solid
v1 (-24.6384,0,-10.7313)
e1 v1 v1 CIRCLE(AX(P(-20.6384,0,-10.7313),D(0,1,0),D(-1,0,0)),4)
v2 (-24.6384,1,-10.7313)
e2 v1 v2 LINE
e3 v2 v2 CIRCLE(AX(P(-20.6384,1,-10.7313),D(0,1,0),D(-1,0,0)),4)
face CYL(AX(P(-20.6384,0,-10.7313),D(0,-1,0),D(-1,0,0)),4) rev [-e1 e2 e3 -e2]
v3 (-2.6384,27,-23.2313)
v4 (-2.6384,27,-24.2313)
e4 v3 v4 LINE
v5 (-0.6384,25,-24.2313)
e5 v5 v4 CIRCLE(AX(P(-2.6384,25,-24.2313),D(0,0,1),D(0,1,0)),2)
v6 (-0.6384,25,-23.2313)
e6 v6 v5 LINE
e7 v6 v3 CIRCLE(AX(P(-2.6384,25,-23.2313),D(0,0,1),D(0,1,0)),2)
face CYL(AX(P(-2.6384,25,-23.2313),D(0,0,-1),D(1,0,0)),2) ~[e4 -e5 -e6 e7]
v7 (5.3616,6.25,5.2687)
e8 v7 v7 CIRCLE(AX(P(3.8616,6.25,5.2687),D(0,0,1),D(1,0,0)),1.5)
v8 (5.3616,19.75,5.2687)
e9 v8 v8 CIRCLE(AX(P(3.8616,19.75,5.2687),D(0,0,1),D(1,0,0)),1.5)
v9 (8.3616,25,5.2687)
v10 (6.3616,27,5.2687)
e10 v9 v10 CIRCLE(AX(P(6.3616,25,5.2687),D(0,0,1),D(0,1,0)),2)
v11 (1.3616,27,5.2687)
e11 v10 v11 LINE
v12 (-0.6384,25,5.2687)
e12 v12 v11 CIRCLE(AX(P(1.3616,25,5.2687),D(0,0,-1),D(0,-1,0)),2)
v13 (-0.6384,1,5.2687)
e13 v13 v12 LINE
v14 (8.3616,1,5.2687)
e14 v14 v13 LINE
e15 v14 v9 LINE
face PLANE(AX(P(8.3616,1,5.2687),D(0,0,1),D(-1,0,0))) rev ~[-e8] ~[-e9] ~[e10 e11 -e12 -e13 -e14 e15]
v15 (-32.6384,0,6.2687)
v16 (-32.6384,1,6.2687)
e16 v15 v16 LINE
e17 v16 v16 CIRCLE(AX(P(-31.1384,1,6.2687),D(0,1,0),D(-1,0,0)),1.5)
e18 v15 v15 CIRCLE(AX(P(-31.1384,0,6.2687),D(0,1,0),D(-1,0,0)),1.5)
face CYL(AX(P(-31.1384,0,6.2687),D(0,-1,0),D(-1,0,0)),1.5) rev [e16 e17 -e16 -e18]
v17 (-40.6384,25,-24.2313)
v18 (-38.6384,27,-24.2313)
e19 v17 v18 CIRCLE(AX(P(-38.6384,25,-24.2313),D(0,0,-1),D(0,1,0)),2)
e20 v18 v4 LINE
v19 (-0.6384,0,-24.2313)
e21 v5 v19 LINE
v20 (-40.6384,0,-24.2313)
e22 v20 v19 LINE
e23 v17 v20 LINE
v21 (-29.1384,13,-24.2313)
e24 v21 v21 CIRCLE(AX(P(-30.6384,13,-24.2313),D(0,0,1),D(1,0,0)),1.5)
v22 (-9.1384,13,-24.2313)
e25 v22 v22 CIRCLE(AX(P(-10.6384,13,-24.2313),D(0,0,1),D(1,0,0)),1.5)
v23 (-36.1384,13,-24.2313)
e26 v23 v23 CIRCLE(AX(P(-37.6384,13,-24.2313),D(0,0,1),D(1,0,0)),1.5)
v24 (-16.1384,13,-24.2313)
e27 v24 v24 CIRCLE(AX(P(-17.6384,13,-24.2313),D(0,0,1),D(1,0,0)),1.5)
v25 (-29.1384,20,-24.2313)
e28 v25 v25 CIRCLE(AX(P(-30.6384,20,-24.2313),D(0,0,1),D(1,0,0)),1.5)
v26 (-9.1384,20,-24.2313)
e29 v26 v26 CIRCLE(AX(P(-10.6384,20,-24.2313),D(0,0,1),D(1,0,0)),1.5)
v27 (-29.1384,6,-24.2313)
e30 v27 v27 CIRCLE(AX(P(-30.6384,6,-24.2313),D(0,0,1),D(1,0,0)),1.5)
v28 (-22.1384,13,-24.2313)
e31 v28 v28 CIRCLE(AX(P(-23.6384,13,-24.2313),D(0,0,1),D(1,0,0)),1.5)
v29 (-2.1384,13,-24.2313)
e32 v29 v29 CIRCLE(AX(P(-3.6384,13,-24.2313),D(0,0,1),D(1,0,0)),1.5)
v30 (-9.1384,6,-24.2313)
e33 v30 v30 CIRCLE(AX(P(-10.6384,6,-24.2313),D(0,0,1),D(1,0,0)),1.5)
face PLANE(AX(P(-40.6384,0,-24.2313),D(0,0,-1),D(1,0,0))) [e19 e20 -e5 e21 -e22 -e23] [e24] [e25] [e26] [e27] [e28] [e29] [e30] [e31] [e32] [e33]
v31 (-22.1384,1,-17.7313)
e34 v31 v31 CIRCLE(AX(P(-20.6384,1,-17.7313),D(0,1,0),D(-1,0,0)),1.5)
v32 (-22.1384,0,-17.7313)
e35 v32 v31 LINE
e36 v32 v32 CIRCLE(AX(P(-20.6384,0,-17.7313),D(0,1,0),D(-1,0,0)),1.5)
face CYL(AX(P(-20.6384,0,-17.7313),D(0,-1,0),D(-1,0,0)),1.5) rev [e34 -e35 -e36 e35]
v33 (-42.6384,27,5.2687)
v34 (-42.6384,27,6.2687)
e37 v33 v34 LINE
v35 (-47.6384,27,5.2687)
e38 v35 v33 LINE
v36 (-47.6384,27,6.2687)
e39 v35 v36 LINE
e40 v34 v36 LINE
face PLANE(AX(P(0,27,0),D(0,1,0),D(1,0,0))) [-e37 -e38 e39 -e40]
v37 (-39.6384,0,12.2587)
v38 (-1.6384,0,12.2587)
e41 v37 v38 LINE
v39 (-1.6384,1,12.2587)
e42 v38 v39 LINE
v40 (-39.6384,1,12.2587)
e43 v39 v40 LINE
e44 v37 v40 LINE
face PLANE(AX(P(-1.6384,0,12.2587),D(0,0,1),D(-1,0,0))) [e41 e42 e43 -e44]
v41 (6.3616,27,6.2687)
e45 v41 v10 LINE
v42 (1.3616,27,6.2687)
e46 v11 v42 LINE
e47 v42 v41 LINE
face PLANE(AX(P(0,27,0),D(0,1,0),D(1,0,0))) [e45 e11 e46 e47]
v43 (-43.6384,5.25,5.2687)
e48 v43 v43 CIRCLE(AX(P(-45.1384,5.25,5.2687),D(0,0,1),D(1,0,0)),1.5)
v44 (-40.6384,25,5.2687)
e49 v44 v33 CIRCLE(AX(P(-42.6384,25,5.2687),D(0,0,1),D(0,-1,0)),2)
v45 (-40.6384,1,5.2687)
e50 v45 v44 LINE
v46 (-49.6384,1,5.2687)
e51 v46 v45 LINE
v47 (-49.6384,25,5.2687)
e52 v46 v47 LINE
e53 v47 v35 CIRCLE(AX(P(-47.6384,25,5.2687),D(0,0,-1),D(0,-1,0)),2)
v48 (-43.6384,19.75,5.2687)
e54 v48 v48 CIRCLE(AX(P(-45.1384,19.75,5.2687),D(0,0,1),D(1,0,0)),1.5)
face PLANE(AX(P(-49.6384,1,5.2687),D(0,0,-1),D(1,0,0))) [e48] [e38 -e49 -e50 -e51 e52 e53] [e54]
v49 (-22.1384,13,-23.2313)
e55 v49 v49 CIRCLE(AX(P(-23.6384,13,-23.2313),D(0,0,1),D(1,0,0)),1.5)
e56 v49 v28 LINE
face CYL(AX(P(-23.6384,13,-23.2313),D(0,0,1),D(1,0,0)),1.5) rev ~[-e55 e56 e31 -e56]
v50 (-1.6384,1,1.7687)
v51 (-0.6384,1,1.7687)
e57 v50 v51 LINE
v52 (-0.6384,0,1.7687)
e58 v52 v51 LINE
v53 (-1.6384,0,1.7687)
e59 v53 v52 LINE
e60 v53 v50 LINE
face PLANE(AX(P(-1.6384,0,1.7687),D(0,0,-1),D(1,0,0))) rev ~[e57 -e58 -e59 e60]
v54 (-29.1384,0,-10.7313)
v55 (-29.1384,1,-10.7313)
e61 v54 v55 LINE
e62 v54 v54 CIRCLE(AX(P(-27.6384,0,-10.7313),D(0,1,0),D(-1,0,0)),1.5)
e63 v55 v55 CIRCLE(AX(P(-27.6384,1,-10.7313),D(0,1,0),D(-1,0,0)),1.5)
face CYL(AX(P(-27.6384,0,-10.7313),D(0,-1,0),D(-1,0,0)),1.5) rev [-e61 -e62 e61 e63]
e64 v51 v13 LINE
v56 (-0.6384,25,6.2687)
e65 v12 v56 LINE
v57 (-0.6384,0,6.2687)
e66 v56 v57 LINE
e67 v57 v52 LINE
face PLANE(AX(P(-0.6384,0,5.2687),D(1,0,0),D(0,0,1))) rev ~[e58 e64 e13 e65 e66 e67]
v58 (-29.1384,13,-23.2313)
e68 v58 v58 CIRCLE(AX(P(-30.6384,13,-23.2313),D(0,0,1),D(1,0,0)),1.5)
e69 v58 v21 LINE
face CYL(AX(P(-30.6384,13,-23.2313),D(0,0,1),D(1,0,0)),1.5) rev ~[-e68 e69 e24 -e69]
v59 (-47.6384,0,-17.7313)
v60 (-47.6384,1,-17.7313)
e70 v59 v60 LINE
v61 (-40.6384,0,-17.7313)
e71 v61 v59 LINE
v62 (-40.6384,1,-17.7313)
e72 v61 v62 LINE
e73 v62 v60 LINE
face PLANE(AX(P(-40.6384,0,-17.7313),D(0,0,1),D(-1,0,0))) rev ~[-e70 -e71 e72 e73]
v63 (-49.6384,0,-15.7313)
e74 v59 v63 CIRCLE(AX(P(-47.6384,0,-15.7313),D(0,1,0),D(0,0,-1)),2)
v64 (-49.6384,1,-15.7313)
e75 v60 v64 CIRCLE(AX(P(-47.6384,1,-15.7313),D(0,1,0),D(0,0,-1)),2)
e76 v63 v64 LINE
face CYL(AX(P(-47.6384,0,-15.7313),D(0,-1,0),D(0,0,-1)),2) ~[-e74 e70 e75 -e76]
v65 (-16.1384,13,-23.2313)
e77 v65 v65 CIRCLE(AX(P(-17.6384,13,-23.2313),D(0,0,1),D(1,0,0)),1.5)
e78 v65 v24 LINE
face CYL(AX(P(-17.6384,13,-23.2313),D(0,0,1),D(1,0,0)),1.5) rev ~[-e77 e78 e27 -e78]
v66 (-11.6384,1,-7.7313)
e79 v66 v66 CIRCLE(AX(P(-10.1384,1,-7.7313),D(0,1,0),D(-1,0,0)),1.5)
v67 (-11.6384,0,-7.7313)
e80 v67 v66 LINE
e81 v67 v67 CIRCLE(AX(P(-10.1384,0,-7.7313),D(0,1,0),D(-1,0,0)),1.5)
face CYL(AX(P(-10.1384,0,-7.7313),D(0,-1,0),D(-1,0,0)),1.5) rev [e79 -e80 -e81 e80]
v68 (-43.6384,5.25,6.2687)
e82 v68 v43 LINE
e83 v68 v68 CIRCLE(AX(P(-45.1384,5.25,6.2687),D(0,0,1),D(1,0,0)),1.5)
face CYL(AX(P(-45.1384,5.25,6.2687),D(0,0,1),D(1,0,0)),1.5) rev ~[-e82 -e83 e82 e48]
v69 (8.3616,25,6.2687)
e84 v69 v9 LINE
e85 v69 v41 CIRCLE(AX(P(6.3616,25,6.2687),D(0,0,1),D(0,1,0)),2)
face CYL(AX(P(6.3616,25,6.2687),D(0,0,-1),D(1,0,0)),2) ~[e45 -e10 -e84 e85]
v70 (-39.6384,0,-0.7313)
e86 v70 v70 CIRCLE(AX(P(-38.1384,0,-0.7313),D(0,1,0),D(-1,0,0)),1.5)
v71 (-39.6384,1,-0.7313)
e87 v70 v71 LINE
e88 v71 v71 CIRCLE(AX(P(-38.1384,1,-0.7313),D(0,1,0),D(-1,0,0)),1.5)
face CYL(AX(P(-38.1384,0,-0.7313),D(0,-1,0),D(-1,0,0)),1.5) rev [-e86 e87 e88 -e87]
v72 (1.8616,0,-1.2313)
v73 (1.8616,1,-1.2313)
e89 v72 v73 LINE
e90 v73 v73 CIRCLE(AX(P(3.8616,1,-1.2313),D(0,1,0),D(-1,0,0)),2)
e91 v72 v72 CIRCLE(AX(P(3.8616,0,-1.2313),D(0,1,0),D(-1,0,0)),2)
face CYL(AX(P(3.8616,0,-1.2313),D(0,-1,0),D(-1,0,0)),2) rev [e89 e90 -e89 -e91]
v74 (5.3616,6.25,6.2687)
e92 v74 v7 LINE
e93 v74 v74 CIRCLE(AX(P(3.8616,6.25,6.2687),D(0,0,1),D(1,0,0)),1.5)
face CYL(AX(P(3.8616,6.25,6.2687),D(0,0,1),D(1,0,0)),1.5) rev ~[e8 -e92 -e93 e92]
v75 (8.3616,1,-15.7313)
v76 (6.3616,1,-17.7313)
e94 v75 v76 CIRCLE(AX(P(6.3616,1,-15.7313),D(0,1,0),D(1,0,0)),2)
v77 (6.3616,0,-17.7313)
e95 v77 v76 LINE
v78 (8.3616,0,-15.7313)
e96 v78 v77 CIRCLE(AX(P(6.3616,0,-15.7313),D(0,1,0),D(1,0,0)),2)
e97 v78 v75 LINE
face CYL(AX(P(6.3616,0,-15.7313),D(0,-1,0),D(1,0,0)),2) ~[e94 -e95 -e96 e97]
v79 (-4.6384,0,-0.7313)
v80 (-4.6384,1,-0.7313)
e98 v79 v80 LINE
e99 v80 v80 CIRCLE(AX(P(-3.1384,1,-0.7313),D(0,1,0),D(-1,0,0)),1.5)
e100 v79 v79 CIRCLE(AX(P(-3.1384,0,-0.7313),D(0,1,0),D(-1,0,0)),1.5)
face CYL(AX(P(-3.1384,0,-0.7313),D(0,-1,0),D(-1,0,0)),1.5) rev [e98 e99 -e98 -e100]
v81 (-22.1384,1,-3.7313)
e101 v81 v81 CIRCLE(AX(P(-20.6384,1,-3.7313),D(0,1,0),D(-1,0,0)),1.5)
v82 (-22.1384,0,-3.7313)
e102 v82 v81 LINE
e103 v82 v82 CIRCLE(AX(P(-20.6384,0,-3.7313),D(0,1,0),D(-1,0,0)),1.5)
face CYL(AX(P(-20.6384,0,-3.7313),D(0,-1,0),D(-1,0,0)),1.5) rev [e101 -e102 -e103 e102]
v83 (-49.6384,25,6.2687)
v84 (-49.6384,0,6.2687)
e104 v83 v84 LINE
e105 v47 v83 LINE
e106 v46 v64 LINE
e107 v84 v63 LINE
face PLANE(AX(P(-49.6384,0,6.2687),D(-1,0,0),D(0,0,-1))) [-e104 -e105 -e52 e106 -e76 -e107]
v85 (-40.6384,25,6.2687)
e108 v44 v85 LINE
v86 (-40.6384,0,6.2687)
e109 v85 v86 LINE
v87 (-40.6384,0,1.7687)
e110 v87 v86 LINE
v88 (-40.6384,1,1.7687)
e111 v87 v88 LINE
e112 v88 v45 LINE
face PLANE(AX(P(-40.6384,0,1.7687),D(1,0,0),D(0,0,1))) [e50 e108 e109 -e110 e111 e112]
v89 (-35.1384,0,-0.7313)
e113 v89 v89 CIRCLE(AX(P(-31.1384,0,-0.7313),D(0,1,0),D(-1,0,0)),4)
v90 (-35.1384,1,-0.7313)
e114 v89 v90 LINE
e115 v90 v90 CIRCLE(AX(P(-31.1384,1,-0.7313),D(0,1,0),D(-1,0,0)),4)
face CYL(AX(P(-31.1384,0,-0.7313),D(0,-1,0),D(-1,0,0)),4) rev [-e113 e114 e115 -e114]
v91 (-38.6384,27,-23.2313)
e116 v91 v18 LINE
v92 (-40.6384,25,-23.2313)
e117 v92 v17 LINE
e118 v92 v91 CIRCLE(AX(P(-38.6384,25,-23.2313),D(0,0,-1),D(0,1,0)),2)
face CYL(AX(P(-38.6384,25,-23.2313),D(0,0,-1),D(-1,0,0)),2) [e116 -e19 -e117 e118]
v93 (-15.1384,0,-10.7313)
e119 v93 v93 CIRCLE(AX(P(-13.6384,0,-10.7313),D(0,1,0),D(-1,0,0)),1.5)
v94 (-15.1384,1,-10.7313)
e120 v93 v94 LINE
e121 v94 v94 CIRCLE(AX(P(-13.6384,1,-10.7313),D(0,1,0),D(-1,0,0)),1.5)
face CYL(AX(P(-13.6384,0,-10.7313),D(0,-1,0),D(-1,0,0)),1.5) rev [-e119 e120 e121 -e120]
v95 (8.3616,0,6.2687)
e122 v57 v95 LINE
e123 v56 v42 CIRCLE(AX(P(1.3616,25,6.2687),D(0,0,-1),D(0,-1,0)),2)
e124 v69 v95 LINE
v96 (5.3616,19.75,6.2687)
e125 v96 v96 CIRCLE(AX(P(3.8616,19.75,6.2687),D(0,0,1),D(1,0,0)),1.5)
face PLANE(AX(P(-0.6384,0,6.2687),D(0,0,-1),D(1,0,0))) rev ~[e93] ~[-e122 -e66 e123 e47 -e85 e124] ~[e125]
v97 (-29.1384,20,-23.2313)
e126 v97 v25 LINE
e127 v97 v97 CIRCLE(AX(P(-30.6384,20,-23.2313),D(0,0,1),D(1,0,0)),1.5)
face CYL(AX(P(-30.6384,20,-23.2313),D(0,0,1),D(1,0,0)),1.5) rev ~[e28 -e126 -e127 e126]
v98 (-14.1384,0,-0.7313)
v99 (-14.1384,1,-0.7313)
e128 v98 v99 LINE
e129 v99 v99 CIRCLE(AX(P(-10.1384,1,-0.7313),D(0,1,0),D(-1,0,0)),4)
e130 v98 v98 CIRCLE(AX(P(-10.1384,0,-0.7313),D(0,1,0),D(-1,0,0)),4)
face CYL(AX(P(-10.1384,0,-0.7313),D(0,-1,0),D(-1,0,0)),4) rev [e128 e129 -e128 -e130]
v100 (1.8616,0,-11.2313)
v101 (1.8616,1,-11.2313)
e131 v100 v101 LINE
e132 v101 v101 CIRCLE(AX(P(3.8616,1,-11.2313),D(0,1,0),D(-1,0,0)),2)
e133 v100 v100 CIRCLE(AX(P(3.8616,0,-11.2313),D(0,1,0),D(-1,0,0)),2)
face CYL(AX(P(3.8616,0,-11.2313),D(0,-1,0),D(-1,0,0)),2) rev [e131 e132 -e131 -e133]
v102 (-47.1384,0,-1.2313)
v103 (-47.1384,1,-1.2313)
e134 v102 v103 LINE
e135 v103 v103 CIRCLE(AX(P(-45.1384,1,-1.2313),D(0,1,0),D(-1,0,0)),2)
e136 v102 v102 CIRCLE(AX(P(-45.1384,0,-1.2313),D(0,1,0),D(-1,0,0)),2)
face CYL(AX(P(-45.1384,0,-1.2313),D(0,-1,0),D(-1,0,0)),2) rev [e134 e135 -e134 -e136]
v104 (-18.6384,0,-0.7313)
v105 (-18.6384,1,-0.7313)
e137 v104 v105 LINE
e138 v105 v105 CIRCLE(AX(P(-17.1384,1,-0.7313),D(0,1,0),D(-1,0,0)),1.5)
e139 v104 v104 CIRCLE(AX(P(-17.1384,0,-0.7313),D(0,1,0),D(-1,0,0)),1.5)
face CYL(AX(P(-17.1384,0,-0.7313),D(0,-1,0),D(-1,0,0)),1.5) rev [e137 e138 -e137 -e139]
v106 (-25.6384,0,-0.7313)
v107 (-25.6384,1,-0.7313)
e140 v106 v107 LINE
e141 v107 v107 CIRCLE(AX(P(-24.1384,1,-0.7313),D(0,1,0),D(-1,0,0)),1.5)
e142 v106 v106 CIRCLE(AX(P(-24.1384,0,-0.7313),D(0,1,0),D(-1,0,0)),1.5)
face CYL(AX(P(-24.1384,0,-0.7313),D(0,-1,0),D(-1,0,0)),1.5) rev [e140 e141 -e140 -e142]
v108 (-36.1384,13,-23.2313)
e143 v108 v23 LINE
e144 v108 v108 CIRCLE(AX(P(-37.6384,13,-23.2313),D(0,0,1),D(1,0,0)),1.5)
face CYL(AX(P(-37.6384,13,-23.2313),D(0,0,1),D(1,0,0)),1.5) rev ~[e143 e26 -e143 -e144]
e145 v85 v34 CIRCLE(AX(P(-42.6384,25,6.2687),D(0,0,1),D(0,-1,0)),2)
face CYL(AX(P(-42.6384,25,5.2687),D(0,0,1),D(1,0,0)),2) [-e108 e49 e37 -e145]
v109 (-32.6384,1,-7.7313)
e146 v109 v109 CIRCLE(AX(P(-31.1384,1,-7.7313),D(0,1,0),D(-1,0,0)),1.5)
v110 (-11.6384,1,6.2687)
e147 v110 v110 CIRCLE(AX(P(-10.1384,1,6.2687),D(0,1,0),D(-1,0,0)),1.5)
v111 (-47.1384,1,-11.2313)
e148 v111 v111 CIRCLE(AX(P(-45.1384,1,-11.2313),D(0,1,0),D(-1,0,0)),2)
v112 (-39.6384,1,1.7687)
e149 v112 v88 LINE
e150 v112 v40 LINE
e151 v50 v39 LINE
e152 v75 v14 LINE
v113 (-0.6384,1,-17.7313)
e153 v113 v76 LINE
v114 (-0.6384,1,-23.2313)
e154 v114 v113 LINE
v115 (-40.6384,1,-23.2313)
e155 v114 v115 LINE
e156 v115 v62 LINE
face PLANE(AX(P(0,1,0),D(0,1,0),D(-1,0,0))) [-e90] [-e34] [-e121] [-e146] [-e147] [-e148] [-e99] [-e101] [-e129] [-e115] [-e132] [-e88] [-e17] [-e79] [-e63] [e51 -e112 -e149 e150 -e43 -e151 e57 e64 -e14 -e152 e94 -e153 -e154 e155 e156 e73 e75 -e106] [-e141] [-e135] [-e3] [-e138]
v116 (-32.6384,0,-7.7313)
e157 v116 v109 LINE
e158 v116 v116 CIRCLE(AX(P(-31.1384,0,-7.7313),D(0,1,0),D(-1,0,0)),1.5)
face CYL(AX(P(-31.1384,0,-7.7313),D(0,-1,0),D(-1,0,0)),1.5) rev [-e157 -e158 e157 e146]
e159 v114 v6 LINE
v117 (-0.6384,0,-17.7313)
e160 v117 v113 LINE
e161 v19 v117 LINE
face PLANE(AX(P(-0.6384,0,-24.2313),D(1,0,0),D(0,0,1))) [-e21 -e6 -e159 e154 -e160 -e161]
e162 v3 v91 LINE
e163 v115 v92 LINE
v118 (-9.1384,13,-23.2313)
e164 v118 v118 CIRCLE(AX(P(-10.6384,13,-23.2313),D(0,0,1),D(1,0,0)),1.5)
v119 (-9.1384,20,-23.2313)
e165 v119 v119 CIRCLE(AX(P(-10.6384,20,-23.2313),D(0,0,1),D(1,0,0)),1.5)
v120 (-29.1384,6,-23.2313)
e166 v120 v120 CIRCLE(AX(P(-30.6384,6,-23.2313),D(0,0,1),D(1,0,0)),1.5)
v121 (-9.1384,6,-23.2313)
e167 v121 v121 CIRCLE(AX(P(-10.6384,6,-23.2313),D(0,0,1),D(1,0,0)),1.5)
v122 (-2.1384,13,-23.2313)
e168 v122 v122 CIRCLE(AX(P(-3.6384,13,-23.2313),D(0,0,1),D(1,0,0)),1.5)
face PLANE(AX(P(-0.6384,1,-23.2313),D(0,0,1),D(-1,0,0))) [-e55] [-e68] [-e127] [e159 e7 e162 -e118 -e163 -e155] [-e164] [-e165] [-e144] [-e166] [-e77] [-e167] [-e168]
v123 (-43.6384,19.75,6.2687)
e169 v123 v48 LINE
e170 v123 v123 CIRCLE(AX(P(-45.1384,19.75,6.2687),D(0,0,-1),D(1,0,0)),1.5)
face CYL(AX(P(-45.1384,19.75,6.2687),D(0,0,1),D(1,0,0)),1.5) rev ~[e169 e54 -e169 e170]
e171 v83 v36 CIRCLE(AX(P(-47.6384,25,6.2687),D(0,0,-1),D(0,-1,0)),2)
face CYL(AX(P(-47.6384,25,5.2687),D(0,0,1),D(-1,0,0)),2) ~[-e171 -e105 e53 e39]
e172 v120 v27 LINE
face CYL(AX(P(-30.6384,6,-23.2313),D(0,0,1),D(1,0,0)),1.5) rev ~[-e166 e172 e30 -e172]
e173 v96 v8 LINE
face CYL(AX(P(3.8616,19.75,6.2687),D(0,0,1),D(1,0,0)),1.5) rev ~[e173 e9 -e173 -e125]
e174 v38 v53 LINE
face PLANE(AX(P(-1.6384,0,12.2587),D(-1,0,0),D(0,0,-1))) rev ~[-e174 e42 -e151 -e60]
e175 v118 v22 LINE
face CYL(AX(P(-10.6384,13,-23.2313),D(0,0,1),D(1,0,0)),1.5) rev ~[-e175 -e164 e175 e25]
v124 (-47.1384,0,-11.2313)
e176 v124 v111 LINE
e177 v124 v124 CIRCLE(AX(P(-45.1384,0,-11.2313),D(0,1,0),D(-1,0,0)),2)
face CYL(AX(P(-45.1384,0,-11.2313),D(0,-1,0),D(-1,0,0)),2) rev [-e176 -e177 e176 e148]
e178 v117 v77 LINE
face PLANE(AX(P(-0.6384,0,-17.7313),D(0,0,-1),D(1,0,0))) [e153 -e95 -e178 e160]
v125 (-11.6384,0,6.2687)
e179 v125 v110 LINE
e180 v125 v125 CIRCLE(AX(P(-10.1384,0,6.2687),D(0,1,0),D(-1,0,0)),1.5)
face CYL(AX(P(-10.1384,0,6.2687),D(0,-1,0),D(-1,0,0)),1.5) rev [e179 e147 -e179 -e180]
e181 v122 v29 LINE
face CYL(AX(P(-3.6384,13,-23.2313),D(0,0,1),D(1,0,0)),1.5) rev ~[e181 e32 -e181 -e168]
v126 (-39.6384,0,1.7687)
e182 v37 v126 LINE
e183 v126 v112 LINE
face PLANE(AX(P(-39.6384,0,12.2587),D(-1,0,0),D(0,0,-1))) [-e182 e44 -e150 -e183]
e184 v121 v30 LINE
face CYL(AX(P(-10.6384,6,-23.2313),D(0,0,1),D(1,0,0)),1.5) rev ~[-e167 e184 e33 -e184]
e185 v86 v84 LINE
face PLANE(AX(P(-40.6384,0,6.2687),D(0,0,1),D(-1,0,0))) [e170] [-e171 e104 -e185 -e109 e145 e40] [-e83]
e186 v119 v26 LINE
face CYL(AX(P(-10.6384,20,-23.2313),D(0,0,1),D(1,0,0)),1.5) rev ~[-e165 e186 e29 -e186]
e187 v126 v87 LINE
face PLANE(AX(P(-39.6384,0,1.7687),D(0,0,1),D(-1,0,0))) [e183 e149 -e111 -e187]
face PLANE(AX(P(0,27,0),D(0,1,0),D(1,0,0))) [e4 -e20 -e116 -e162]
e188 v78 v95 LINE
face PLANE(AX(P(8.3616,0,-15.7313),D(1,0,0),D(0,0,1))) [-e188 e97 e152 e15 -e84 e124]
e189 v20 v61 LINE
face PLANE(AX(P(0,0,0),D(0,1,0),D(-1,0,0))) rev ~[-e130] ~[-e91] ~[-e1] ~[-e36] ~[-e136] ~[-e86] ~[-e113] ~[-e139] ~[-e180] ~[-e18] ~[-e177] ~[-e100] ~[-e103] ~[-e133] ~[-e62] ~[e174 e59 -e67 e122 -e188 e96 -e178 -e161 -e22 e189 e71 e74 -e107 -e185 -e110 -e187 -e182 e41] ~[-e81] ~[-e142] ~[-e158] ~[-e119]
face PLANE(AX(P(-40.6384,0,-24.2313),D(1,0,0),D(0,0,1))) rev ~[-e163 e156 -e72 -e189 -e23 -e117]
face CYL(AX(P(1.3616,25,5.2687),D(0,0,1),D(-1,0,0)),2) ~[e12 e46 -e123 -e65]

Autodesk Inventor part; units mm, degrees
ref_plane "YZ Plane" through (0, 0, 0) normal (1, 0, 0) x (0, 1, 0)
ref_plane "XZ Plane" through (0, 0, 0) normal (0, 1, 0) x (-1, 0, 0)
ref_plane "XY Plane" through (0, 0, 0) normal (0, 0, 1) x (1, 0, 0)
sketch "Sketch2" plane through (0, 0, 0) normal (0, 1, 0) x (-1, 0, 0)
  line L0 (1.6384, 12.2587) -> (39.6384, 12.2587)
  line L1 (49.6384, 5.2687) -> (49.6384, -15.7313)
  line L2 (40.6384, -24.2313) -> (0.6384, -24.2313)
  line L3 (-8.3616, -15.7313) -> (-8.3616, 5.2687)
  line L4 (1.6384, 12.2587) -> (39.6384, 12.2587)
  line L5 (20.6384, 12.2587) -> (1.6384, 12.2587)
  line L6 (1.6384, 12.2587) -> (1.6384, 5.2687)
  line L7 (20.6384, 12.2587) -> (39.6384, 12.2587)
  line L8 (39.6384, 12.2587) -> (39.6384, 5.2687)
  circle A0 centre (31.1384, -0.7313) radius 4
  circle A1 centre (31.1384, 6.2687) radius 1.5
  circle A2 centre (24.1384, -0.7313) radius 1.5
  circle A3 centre (31.1384, -7.7313) radius 1.5
  circle A4 centre (38.1384, -0.7313) radius 1.5
  line L9 (31.1384, -0.7313) -> (40.1384, -0.7313) construction
  circle A5 centre (20.6384, -10.7313) radius 4
  circle A6 centre (20.6384, -3.7313) radius 1.5
  circle A7 centre (13.6384, -10.7313) radius 1.5
  circle A8 centre (20.6384, -17.7313) radius 1.5
  circle A9 centre (27.6384, -10.7313) radius 1.5
  line L10 (20.6384, -10.7313) -> (30.6384, -10.7313) construction
  line L11 (20.6384, 0) -> (20.6384, 3.2687)
  circle A10 centre (10.1384, -0.7313) radius 4
  circle A11 centre (10.1384, 6.2687) radius 1.5
  circle A12 centre (17.1384, -0.7313) radius 1.5
  circle A13 centre (10.1384, -7.7313) radius 1.5
  circle A14 centre (3.1384, -0.7313) radius 1.5
  line L12 (10.1384, -0.7313) -> (1.1384, -0.7313) construction
  line L13 (1.6384, 5.2687) -> (1.6384, 1.7687)
  line L14 (1.6384, 1.7687) -> (0.6384, 1.7687)
  line L15 (0.6384, 1.7687) -> (0.6384, 5.2687)
  line L16 (39.6384, 5.2687) -> (39.6384, 1.7687)
  line L17 (39.6384, 1.7687) -> (40.6384, 1.7687)
  line L18 (40.6384, 1.7687) -> (40.6384, 5.2687)
  circle A15 centre (-3.8616, -1.2313) radius 2
  circle A16 centre (-3.8616, -11.2313) radius 2
  line L19 (0.6384, 5.2687) -> (0.6384, 6.2687)
  line L20 (0.6384, 6.2687) -> (-8.3616, 6.2687)
  line L21 (-8.3616, 6.2687) -> (-8.3616, 5.2687)
  line L22 (40.6384, 5.2687) -> (40.6384, 6.2687)
  line L23 (40.6384, 6.2687) -> (49.6384, 6.2687)
  line L24 (49.6384, 6.2687) -> (49.6384, 5.2687)
  circle A17 centre (45.1384, -1.2313) radius 2
  circle A18 centre (45.1384, -11.2313) radius 2
  line L25 (0.6384, -24.2313) -> (0.6384, -17.7313)
  line L26 (0.6384, -17.7313) -> (-6.3616, -17.7313)
  line L27 (40.6384, -24.2313) -> (40.6384, -17.7313)
  line L28 (40.6384, -17.7313) -> (47.6384, -17.7313)
  arc A19 (-8.3616, -15.7313) -> (-6.3616, -17.7313) centre (-6.3616, -15.7313) ccw
  arc A20 (47.6384, -17.7313) -> (49.6384, -15.7313) centre (47.6384, -15.7313) ccw
  line L29 (1.6384, 12.2587) -> (39.6384, 12.2587)
  line L30 (40.6384, -24.2313) -> (1.6384, -24.2313)
  line L31 (1.6384, 1.7687) -> (1.6384, 12.2587)
  line L32 (40.6384, 6.2687) -> (40.6384, 1.7687)
  line L33 (40.6384, -17.7313) -> (40.6384, -24.2313)
  line L34 (49.6384, 6.2687) -> (49.6384, -15.7313)
  line L35 (-8.3616, -15.7313) -> (-8.3616, 6.2687)
  line L36 (40.6384, 6.2687) -> (49.6384, 6.2687)
  line L37 (-8.3616, 6.2687) -> (0.6384, 6.2687)
  line L38 (47.6384, -17.7313) -> (40.6384, -17.7313)
  line L39 (0.6384, -17.7313) -> (-6.3616, -17.7313)
  line L40 (-8.3616, 6.2687) -> (-8.3616, -15.7313)
  line L41 (-6.3616, -17.7313) -> (0.6384, -17.7313)
  line L42 (0.6384, -24.2313) -> (0.6384, -17.7313)
  line L43 (-6.3616, -17.7313) -> (0.6384, -17.7313)
  line L44 (0.6384, -24.2313) -> (40.6384, -24.2313)
  line L45 (40.6384, -24.2313) -> (40.6384, -17.7313)
  line L46 (40.6384, -17.7313) -> (47.6384, -17.7313)
  line L47 (49.6384, -15.7313) -> (49.6384, 6.2687)
  line L48 (49.6384, 6.2687) -> (40.6384, 6.2687)
  line L49 (40.6384, 6.2687) -> (40.6384, 1.7687)
  line L50 (39.6384, 1.7687) -> (40.6384, 1.7687)
  line L51 (39.6384, 1.7687) -> (39.6384, 12.2587)
  line L52 (39.6384, 12.2587) -> (1.6384, 12.2587)
  line L53 (1.6384, 12.2587) -> (1.6384, 1.7687)
  line L54 (1.6384, 1.7687) -> (0.6384, 1.7687)
  line L55 (0.6384, 1.7687) -> (0.6384, 6.2687)
  line L56 (0.6384, 6.2687) -> (-8.3616, 6.2687)
  line L57 (-8.3616, 6.2687) -> (-8.3616, -15.7313)
  point P0 (0, 0)
  dimension "d12" = 360
  dimension "d19" = 360
  dimension "d22" = 10
  dimension "d23" = 29
  dimension "d24" = 29
  dimension "d25" = 10.5
  dimension "d26" = 21
  dimension "d32" = 1
  dimension "d33" = 3.5
  dimension "d34" = 1
  dimension "d37" = 4
  dimension "d38" = 4
  dimension "d41" = 2
extrude "Extrusion1" add sketch "Sketch2" along normal blind 1
sketch "Sketch3" plane through (0, 1, 0) normal (0, 1, 0) x (1, 0, 0)
  line L0 (-0.6384, 17.7313) -> (-0.6384, 24.2313) projected
  line L1 (-49.6384, 15.7313) -> (-49.6384, -6.2687) projected
  line L2 (-0.6384, -1.7687) -> (-0.6384, -6.2687) projected
  line L3 (8.3616, -6.2687) -> (8.3616, 15.7313) projected
  line L4 (-40.6384, 24.2313) -> (-0.6384, 24.2313)
  line L5 (-0.6384, 24.2313) -> (-0.6384, 23.2313)
  line L6 (-0.6384, 23.2313) -> (-40.6384, 23.2313)
  line L7 (-40.6384, 23.2313) -> (-40.6384, 24.2313)
  line L8 (-0.6384, -6.2687) -> (8.3616, -6.2687)
  line L9 (8.3616, -6.2687) -> (8.3616, -5.2687)
  line L10 (8.3616, -5.2687) -> (-0.6384, -5.2687)
  line L11 (-40.6384, -6.2687) -> (-49.6384, -6.2687)
  line L12 (-49.6384, -6.2687) -> (-49.6384, -5.2687)
  line L13 (-49.6384, -5.2687) -> (-40.6384, -5.2687)
  line L14 (-40.6384, -5.2687) -> (-40.6384, -6.2687)
  line L15 (-0.6384, -5.2687) -> (-0.6384, -6.2687)
  point P0 (0, 0)
  dimension "d44" = 1
  dimension "d45" = 1
  dimension "d46" = 1
extrude "Extrusion2" add sketch "Sketch3" along normal blind 26
fillet "Fillet1" radius 2 6 edges at (-49.6384, 27, 5.7687) (-40.6384, 27, 5.7687) (8.3616, 27, 5.7687) (-0.6384, 27, 5.7687) (-0.6384, 27, -23.7313) (-40.6384, 27, -23.7313)
sketch "Sketch4" plane through (-40.6384, 1, -23.2313) normal (0, 0, 1) x (1, 0, 0)
  circle A0 centre (10, 12) radius 1.5
  circle A1 centre (10, 5) radius 1.5
  circle A2 centre (17, 12) radius 1.5
  circle A3 centre (10, 19) radius 1.5
  circle A4 centre (3, 12) radius 1.5
  circle A5 centre (30, 12) radius 1.5
  circle A6 centre (30, 5) radius 1.5
  circle A7 centre (37, 12) radius 1.5
  circle A8 centre (30, 19) radius 1.5
  circle A9 centre (23, 12) radius 1.5
  point P0 (40.6384, -1)
  dimension "d52" = 3
  dimension "d55" = 360
  dimension "d58" = 3
  dimension "d59" = 3
  dimension "d62" = 360
extrude "Extrusion3" cut sketch "Sketch4" against normal blind 26
sketch "Sketch5" plane through (-49.6384, 0, 6.2687) normal (0, 0, 1) x (1, 0, 0)
  circle A0 centre (4.5, 19.75) radius 1.5
  circle A1 centre (4.5, 5.25) radius 1.5
  line L0 (2, 27) -> (7, 27) projected
  line L1 (0, 0) -> (0, 25) projected
  line L2 (4.5, 27) -> (4.5, 12.5)
  point P0 (49.6384, 0)
  dimension "d66" = 3
  dimension "d69" = 14.5
  dimension "d70" = 7.25
  dimension "d71" = 3
extrude "Extrusion4" cut sketch "Sketch5" against normal blind 26
sketch "Sketch6" plane through (-0.6384, 0, 6.2687) normal (0, 0, 1) x (1, 0, 0)
  circle A0 centre (4.5, 19.75) radius 1.5
  circle A1 centre (4.5, 6.25) radius 1.5
  point P0 (0.6384, 0)
  dimension "d72" = 3
  dimension "d73" = 3
extrude "Extrusion5" cut sketch "Sketch6" against normal blind 26
properties part number "modelo 2"
